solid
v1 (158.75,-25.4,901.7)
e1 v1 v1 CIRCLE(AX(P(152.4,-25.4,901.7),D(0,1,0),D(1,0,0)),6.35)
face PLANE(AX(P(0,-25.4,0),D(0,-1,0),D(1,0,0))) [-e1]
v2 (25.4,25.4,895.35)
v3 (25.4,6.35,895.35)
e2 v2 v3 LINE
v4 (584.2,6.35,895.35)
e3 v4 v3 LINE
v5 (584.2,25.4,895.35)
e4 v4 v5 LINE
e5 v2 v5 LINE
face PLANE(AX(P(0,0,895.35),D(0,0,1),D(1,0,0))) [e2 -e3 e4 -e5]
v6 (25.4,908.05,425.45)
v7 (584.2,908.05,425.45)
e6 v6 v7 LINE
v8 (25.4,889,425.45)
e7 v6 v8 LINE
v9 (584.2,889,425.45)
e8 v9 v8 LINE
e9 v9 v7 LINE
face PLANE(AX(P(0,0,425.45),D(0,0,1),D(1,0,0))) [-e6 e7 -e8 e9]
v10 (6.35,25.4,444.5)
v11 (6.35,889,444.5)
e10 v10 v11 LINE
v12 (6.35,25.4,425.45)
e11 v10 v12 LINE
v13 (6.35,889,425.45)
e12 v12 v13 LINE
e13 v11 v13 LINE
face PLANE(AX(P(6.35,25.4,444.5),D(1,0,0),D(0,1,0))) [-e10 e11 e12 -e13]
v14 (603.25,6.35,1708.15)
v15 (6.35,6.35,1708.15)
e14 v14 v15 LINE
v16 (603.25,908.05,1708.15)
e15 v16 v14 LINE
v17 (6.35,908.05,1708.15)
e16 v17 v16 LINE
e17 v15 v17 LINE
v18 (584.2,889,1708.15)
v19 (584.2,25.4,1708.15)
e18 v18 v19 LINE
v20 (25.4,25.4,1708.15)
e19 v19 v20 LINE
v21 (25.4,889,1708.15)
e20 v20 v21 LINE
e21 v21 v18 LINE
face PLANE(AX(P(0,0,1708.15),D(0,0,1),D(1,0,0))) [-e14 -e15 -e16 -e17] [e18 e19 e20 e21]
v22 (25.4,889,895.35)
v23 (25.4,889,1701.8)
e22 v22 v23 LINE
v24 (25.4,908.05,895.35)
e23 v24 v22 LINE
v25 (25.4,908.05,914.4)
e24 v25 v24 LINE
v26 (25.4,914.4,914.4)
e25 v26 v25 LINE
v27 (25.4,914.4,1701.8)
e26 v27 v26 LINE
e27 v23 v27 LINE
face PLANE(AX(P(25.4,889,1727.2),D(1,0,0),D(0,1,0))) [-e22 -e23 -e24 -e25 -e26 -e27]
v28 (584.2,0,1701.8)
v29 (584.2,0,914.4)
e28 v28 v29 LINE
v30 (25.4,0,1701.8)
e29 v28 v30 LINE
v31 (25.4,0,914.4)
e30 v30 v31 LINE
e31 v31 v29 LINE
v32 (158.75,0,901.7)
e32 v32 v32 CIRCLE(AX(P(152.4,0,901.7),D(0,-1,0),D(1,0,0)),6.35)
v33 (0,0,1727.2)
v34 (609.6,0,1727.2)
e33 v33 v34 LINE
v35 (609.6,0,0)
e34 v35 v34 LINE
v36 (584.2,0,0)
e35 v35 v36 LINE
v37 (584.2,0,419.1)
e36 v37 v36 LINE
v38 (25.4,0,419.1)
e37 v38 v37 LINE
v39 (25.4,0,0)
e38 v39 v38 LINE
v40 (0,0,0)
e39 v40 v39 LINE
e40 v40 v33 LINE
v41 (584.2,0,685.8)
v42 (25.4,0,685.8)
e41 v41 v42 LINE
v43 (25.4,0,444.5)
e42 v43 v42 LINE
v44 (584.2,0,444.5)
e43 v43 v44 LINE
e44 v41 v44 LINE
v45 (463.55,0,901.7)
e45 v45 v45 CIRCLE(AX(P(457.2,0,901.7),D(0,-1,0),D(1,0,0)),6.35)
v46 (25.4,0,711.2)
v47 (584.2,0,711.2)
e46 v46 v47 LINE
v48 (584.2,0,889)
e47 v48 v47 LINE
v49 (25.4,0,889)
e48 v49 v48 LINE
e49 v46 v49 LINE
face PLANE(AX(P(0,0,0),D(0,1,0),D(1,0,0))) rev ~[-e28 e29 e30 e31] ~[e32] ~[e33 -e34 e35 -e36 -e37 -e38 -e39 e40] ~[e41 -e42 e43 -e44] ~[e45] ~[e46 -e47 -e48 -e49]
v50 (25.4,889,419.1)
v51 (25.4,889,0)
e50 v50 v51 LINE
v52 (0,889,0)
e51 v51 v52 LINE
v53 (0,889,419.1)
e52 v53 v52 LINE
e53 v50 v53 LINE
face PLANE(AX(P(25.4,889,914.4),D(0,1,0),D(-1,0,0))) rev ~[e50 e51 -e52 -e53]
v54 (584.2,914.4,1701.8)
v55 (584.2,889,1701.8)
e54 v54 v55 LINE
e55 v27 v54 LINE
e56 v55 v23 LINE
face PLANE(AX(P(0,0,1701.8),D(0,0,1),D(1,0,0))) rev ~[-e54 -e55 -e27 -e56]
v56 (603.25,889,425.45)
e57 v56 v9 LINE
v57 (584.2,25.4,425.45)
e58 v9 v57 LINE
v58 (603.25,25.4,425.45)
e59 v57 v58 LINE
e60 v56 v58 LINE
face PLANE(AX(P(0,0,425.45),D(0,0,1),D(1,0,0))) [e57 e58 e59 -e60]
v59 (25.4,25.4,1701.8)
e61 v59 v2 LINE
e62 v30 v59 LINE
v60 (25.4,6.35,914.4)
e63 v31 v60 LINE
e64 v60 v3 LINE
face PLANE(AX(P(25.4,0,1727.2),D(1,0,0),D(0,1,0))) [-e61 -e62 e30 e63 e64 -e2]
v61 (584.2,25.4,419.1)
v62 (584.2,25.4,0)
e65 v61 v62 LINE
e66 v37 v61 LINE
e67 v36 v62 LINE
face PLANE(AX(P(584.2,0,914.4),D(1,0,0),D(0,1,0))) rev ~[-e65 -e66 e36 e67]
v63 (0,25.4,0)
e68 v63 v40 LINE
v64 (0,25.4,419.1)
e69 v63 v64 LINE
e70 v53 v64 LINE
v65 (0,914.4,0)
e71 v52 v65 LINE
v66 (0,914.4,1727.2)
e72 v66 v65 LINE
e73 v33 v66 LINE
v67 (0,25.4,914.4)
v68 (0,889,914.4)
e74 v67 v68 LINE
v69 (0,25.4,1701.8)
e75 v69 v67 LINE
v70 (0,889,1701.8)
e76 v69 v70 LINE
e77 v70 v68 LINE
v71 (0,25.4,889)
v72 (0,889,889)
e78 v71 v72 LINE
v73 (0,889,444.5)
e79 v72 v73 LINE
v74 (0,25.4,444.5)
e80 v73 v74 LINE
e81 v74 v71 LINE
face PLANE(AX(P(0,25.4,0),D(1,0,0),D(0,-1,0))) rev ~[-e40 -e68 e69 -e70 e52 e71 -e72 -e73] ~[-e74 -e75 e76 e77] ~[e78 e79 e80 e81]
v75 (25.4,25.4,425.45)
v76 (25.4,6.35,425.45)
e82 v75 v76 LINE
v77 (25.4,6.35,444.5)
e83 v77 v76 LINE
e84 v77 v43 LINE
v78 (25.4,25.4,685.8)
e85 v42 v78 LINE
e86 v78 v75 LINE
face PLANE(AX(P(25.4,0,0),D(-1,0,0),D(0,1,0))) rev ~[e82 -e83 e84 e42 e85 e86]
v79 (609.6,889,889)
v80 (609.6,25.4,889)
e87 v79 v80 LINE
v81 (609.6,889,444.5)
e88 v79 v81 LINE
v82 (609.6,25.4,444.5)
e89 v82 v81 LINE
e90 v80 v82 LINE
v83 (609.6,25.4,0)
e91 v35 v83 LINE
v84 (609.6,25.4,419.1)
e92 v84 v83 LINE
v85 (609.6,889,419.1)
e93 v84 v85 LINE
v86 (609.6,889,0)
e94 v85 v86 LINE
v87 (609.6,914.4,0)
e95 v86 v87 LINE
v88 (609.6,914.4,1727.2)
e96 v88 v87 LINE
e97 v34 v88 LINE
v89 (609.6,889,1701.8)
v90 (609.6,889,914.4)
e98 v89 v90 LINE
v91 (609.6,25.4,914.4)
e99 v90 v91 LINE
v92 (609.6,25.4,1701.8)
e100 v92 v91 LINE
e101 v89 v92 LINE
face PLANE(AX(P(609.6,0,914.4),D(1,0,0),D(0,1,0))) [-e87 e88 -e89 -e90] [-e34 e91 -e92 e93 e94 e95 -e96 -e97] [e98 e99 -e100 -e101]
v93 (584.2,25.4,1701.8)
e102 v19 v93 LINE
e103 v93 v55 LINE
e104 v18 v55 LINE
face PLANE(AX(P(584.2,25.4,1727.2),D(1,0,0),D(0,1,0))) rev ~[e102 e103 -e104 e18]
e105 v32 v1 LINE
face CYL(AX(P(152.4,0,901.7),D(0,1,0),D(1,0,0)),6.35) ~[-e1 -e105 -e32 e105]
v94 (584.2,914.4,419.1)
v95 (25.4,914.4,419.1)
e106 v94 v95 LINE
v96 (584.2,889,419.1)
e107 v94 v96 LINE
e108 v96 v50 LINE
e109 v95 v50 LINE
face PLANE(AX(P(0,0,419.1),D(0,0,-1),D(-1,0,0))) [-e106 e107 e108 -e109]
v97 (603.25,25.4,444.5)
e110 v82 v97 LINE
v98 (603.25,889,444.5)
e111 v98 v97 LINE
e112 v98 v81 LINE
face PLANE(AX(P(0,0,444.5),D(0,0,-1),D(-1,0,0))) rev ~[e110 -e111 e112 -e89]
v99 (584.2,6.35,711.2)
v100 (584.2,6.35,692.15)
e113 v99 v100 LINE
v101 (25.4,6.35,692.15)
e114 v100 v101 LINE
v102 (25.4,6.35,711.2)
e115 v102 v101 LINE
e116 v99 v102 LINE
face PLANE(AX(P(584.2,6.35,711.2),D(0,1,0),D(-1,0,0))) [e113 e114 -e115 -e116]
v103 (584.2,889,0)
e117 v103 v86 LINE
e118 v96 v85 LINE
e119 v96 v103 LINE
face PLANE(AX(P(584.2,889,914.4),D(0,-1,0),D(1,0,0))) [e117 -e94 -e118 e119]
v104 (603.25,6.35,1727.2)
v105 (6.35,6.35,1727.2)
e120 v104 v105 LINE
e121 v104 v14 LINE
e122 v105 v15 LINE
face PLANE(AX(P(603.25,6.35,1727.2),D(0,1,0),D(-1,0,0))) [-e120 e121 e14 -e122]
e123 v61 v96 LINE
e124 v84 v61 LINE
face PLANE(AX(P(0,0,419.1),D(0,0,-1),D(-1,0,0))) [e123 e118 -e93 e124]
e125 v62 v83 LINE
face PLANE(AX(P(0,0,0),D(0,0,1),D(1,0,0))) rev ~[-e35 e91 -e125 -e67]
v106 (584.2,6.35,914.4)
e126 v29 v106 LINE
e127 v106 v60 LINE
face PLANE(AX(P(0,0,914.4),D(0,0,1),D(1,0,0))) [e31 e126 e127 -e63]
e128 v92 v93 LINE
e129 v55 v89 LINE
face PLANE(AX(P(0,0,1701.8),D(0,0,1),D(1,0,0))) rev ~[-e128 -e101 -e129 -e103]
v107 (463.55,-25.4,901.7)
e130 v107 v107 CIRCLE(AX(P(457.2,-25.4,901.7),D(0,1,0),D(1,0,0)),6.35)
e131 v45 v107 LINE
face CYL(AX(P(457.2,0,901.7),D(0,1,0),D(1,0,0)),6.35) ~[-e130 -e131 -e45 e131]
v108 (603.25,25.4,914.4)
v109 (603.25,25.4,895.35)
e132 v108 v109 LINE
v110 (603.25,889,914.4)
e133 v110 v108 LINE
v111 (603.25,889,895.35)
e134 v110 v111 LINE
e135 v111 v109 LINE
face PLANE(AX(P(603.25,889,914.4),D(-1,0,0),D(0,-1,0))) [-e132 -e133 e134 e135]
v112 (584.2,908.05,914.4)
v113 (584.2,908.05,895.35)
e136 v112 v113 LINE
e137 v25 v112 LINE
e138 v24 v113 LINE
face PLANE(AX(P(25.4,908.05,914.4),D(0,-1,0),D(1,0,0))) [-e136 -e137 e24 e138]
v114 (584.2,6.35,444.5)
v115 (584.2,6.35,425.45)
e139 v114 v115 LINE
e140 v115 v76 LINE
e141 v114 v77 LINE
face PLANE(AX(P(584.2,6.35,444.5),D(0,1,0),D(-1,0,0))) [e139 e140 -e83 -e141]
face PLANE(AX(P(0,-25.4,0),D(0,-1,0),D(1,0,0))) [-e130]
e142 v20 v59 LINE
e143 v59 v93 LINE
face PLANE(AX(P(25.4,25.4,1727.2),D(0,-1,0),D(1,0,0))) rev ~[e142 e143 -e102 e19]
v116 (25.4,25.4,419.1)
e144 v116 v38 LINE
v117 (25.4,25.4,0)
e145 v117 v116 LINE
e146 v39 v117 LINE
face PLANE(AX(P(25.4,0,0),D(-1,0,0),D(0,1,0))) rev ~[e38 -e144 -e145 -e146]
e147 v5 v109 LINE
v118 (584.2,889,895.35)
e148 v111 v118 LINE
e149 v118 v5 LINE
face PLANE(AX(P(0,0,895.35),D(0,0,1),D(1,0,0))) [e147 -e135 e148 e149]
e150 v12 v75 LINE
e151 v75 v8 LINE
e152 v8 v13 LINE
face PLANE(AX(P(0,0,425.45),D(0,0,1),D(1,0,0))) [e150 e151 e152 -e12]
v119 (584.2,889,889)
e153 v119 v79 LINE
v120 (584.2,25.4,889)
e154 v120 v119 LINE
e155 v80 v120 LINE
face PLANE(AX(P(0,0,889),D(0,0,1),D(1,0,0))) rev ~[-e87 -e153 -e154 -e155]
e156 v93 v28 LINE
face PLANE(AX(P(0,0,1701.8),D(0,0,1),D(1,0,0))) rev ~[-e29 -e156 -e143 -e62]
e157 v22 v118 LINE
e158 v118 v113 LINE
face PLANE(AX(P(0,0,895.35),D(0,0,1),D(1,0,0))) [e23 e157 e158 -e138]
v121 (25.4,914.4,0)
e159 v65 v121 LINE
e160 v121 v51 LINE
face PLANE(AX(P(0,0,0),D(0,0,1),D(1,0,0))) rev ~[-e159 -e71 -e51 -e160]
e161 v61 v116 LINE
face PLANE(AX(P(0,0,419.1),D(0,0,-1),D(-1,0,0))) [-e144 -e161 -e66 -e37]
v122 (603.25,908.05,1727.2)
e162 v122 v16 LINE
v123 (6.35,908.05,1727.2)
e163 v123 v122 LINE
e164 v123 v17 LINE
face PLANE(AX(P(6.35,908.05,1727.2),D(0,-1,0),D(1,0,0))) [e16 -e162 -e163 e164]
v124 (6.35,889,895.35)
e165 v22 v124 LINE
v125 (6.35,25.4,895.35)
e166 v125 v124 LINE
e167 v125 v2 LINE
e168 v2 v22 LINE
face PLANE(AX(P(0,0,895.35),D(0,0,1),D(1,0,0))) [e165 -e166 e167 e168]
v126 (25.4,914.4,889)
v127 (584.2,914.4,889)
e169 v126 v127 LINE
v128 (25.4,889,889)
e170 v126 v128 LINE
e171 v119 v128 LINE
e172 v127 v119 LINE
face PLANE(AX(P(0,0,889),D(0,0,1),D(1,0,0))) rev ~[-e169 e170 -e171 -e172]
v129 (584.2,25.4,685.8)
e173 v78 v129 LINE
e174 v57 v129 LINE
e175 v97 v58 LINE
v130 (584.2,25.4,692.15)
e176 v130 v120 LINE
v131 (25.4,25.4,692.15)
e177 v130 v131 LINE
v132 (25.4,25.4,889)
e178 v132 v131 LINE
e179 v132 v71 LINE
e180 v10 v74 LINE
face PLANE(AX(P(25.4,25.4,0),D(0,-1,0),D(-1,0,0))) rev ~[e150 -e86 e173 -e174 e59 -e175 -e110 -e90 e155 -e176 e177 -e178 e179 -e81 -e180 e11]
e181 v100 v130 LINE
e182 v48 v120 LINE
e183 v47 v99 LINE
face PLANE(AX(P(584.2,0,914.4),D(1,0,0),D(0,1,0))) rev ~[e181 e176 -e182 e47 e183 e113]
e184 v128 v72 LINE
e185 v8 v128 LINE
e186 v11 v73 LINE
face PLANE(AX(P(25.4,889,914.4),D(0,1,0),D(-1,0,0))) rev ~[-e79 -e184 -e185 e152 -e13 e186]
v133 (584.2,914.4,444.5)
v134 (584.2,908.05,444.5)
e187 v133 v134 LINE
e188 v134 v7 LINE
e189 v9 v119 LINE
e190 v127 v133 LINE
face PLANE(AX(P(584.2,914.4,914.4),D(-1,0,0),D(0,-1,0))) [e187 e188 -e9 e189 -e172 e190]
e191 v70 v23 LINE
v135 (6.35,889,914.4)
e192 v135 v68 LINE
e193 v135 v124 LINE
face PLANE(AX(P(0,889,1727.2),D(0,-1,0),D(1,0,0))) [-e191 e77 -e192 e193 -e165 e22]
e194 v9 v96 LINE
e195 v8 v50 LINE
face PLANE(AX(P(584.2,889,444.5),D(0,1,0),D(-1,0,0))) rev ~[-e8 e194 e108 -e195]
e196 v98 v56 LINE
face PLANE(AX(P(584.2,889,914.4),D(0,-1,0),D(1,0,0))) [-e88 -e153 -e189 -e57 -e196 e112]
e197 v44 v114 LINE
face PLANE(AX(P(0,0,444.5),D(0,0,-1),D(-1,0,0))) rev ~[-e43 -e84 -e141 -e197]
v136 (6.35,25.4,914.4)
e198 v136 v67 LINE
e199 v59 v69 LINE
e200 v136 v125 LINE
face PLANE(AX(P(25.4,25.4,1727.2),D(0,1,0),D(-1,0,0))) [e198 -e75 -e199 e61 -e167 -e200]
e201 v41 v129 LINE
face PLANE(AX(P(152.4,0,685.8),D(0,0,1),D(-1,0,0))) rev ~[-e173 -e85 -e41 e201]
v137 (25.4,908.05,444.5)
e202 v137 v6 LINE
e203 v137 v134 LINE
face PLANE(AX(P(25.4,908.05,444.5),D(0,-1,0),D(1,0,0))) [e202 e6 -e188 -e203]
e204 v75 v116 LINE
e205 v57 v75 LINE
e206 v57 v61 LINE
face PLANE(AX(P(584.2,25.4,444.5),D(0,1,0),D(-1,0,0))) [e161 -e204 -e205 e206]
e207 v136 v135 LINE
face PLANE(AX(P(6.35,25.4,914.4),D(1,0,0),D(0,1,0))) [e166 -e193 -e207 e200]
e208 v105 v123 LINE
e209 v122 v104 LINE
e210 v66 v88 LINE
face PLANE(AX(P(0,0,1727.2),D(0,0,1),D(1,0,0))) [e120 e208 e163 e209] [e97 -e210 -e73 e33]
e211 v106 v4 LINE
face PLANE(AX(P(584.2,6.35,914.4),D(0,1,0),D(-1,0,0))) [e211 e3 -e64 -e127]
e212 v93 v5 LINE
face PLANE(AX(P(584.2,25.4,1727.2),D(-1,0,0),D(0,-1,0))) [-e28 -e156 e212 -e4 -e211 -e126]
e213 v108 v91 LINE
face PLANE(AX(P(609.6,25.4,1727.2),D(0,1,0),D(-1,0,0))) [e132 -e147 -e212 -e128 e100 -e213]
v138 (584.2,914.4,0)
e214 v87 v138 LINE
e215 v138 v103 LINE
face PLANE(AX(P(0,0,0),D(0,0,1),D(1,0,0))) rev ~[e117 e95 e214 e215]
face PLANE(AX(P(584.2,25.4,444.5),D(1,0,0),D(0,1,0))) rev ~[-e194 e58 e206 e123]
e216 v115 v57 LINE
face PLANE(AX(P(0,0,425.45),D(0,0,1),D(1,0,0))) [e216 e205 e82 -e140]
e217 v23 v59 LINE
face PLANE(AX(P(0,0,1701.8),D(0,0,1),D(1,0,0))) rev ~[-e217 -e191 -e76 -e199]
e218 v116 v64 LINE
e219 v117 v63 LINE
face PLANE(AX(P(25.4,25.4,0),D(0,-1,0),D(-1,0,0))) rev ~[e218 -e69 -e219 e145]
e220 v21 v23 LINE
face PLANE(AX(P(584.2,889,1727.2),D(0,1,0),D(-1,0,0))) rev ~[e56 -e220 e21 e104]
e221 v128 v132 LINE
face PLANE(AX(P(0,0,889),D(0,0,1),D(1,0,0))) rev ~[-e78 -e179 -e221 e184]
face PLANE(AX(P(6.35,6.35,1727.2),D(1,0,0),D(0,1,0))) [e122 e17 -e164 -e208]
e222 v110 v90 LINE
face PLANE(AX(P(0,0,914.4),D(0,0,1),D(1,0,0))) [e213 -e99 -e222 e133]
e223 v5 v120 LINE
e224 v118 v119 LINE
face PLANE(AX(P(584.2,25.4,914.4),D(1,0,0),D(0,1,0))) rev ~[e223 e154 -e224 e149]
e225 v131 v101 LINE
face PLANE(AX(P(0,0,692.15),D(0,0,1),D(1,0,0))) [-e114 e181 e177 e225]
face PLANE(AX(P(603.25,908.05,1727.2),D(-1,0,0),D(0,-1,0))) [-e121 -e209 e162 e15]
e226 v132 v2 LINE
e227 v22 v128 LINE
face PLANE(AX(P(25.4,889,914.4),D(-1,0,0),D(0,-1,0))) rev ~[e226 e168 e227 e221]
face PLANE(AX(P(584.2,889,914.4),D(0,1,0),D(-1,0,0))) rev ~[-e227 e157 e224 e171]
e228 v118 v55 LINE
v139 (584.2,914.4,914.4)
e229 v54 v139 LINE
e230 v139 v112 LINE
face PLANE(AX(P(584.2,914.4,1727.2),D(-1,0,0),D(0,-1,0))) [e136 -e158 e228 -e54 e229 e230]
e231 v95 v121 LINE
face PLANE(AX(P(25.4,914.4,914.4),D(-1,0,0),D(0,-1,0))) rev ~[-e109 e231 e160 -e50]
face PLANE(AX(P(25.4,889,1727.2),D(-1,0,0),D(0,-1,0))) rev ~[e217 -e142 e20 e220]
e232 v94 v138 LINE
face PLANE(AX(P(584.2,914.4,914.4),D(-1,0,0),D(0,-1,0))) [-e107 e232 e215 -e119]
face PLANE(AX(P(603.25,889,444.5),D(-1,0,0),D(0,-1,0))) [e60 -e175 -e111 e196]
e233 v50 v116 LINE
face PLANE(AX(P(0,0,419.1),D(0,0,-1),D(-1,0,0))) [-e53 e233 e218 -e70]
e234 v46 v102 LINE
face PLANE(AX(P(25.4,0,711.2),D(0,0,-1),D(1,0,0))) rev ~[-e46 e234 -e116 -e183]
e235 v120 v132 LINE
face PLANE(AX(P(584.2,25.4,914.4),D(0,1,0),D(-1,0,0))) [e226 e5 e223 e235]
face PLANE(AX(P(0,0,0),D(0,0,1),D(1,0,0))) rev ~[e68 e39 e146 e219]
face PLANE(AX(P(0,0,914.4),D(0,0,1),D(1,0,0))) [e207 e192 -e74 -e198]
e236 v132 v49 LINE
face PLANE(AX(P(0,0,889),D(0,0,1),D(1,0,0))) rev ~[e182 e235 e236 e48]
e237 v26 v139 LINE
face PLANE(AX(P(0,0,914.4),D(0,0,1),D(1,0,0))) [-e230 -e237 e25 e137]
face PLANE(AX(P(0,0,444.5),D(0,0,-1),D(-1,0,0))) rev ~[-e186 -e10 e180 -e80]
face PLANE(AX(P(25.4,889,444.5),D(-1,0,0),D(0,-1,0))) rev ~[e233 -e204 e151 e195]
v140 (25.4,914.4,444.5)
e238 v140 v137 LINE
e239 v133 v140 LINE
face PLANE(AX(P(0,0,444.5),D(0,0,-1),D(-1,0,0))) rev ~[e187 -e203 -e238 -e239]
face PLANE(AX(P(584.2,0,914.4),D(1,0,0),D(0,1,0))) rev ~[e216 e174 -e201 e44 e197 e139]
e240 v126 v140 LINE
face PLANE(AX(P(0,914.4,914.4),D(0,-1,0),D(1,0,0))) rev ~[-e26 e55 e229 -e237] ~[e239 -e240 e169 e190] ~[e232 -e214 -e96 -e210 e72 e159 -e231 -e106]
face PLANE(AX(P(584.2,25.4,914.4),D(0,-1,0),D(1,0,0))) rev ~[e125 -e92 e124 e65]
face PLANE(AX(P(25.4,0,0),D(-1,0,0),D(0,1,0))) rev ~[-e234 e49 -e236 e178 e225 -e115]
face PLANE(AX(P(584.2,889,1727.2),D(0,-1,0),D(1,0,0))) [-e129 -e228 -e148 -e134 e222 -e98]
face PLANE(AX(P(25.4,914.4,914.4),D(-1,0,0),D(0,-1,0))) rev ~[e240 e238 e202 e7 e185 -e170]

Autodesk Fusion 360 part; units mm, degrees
sketch "Sketch1" plane through (0, 0, 0) normal (0, 0, 1) x (1, 0, 0)
  line L0 (0, 0) -> (25.4, 0)
  line L1 (25.4, 0) -> (25.4, 25.4)
  line L2 (25.4, 25.4) -> (0, 25.4)
  line L3 (0, 25.4) -> (0, 0)
  dimension "d1" = 25.4
  dimension "d2" = 25.4
extrude "Extrude1" add sketch "Sketch1" along normal blind 914.4 makes body 1
sketch "Sketch2" plane through (0, 0, 914.4) normal (0, 0, 1) x (1, 0, 0)
  line L0 (0, 25.4) -> (0, 0)
  line L1 (0, 0) -> (25.4, 0)
  line L2 (25.4, 0) -> (25.4, 25.4)
  line L3 (25.4, 25.4) -> (0, 25.4)
  line L4 (0, 0) -> (609.6, 0)
  line L5 (609.6, 0) -> (609.6, 914.4)
  line L6 (609.6, 914.4) -> (0, 914.4)
  line L7 (0, 914.4) -> (0, 0)
  dimension "d5" = 609.6
  dimension "d6" = 914.4
sketch "Sketch3" plane through (0, 0, 914.4) normal (0, 0, 1) x (1, 0, 0)
  line L0 (0, 914.4) -> (25.4, 914.4)
  line L1 (25.4, 914.4) -> (25.4, 889)
  line L2 (25.4, 889) -> (0, 889)
  line L3 (0, 889) -> (0, 914.4)
  line L4 (609.6, 914.4) -> (0, 914.4)
  line L5 (0, 914.4) -> (0, 0)
  line L6 (609.6, 914.4) -> (584.2, 914.4)
  line L7 (584.2, 914.4) -> (584.2, 889)
  line L8 (584.2, 889) -> (609.6, 889)
  line L9 (609.6, 889) -> (609.6, 914.4)
  line L10 (609.6, 0) -> (609.6, 914.4)
  line L11 (609.6, 0) -> (584.2, 0)
  line L12 (584.2, 0) -> (584.2, 25.4)
  line L13 (584.2, 25.4) -> (609.6, 25.4)
  line L14 (609.6, 25.4) -> (609.6, 0)
  line L15 (0, 0) -> (609.6, 0)
  dimension "d7" = 25.4
  dimension "d8" = 25.4
  dimension "d9" = 25.4
  dimension "d10" = 25.4
  dimension "d11" = 25.4
  dimension "d12" = 25.4
extrude "Extrude2" add sketch "Sketch3" against normal blind 914.4 separate body contours L0 L1 L2 L3 L4 L5 | L4 L6 L7 L8 L9 L10 | L10 L11 L12 L13 L14 L15 makes body 2 at (25.4, 905.9333, 304.8) makes body 3 at (609.6, 897.4667, 304.8) makes body 4 at (584.2, 8.4667, 304.8)
sketch "Sketch4" plane through (0, 0, 914.4) normal (0, 0, 1) x (1, 0, 0)
  line L0 (584.2, 889) -> (609.6, 889)
  line L1 (609.6, 889) -> (609.6, 25.4)
  line L2 (609.6, 25.4) -> (584.2, 25.4)
  line L3 (584.2, 25.4) -> (584.2, 889)
  line L4 (0, 914.4) -> (584.2, 914.4)
  line L5 (584.2, 914.4) -> (584.2, 889)
  line L6 (584.2, 889) -> (0, 889)
  line L7 (0, 889) -> (0, 914.4)
  line L8 (0, 914.4) -> (25.4, 914.4)
  line L9 (25.4, 914.4) -> (25.4, 0)
  line L10 (25.4, 0) -> (0, 0)
  line L11 (0, 0) -> (0, 914.4)
  line L12 (0, 0) -> (584.2, 0)
  line L13 (584.2, 0) -> (584.2, 25.4)
  line L14 (584.2, 25.4) -> (0, 25.4)
  line L15 (0, 25.4) -> (0, 0)
  line L16 (0, 0) -> (609.6, 0)
  line L17 (0, 914.4) -> (0, 0)
  line L18 (609.6, 914.4) -> (0, 914.4)
  line L19 (609.6, 0) -> (609.6, 914.4)
  line L20 (609.6, 889) -> (609.6, 914.4)
  line L21 (609.6, 914.4) -> (584.2, 914.4)
  dimension "d15" = 25.4
  dimension "d16" = 25.4
  dimension "d17" = 25.4
  dimension "d18" = 25.4
extrude "Extrude3" add sketch "Sketch4" against normal blind 25.4 separate body contours L0 L1 L2 L3 L19 | L4 L5 L6 L9 L18 | L9 L12 L13 L14 L16 | L6 L9 L11 L14 L17 makes body 5 at (397.9333, 897.4667, 914.4)
ref_plane "WorkPlane1" through (596.9, 901.7, 444.5) normal (0, 0, -1) x (-1, 0, 0)
sketch "Sketch5" plane through (0, 0, 444.5) normal (0, 0, -1) x (-1, 0, 0)
  line L0 (-609.6, 1066.8) -> (0, 1066.8)
  line L1 (0, 1066.8) -> (0, 0)
  line L2 (0, 0) -> (-609.6, 0)
  line L3 (-609.6, 0) -> (-609.6, 1066.8)
  line L4 (-584.2, 889) -> (-25.4, 889)
  line L5 (-584.2, 914.4) -> (-584.2, 889)
  line L6 (-584.2, 914.4) -> (-25.4, 914.4)
  line L7 (-25.4, 914.4) -> (-25.4, 889)
  line L8 (-25.4, 889) -> (0, 889)
  line L9 (0, 889) -> (0, 25.4)
  line L10 (-25.4, 25.4) -> (0, 25.4)
  line L11 (-25.4, 889) -> (-25.4, 25.4)
  line L12 (-584.2, 889) -> (-609.6, 889)
  line L13 (-584.2, 25.4) -> (-584.2, 889)
  line L14 (-609.6, 25.4) -> (-584.2, 25.4)
  line L15 (-609.6, 25.4) -> (-609.6, 889)
  line L16 (-25.4, 0) -> (-584.2, 0)
  line L17 (-584.2, 0) -> (-584.2, 25.4)
  line L18 (-584.2, 25.4) -> (-25.4, 25.4)
  line L19 (-25.4, 25.4) -> (-25.4, 0)
  dimension "d22" = 609.6
  dimension "d23" = 1066.8
extrude "Extrude4" add sketch "Sketch5" along normal blind 25.4 separate body contours L3 L12 L13 L14 L15 | L1 L8 L9 L10 L11 | L4 L5 L6 L7 | L2 L16 L17 L18 L19 makes body 6 at (397.9333, 25.4, 436.0333)
ref_plane "WorkPlane2" through (304.8, 901.7, 1727.2) normal (0, 0, 1) x (1, 0, 0)
sketch "Sketch6" plane through (0, 0, 1727.2) normal (0, 0, 1) x (1, 0, 0)
  line L0 (584.2, 889) -> (25.4, 889)
  line L1 (584.2, 914.4) -> (584.2, 889)
  line L2 (25.4, 914.4) -> (584.2, 914.4)
  line L3 (25.4, 889) -> (25.4, 914.4)
  line L4 (0, 889) -> (25.4, 889)
  line L5 (0, 25.4) -> (0, 889)
  line L6 (25.4, 25.4) -> (0, 25.4)
  line L7 (25.4, 889) -> (25.4, 25.4)
  line L8 (584.2, 889) -> (609.6, 889)
  line L9 (584.2, 25.4) -> (584.2, 889)
  line L10 (609.6, 25.4) -> (584.2, 25.4)
  line L11 (609.6, 889) -> (609.6, 25.4)
  line L12 (584.2, 0) -> (25.4, 0)
  line L13 (584.2, 25.4) -> (584.2, 0)
  line L14 (25.4, 25.4) -> (584.2, 25.4)
  line L15 (25.4, 0) -> (25.4, 25.4)
  line L16 (25.4, 25.4) -> (0, 25.4)
  line L17 (25.4, 0) -> (25.4, 25.4)
  line L18 (0, 0) -> (25.4, 0)
  line L19 (0, 25.4) -> (0, 0)
  line L20 (609.6, 25.4) -> (609.6, 0)
  line L21 (584.2, 25.4) -> (609.6, 25.4)
  line L22 (584.2, 0) -> (584.2, 25.4)
  line L23 (609.6, 0) -> (584.2, 0)
  line L24 (609.6, 914.4) -> (609.6, 889)
  line L25 (584.2, 914.4) -> (609.6, 914.4)
  line L26 (584.2, 889) -> (584.2, 914.4)
  line L27 (609.6, 889) -> (584.2, 889)
  line L28 (0, 889) -> (0, 914.4)
  line L29 (25.4, 889) -> (0, 889)
  line L30 (25.4, 914.4) -> (25.4, 889)
  line L31 (0, 914.4) -> (25.4, 914.4)
extrude "Extrude5" add sketch "Sketch6" against normal blind 812.8 contours L1 L8 L24 L25 L26 L27 | L3 L4 L28 L29 L30 L31 | L10 L13 L20 L21 L22 L23 | L6 L15 L16 L17 L18 L19 bodies 1 6 2 3 4 5
extrude "Extrude6" add sketch "Sketch6" against normal blind 25.4 contours L0 L1 L2 L3 L26 L30 | L8 L9 L10 L11 L21 L27 | L4 L5 L6 L7 L16 L29 | L12 L13 L14 L15 L17 L22 bodies 1
combine "Combine1" operation add target body 1 tool bodies 6
sketch "Sketch7" plane through (0, 0, 0) normal (0, -1, 0) x (1, 0, 0)
  line L0 (25.4, 444.5) -> (25.4, 889)
  line L1 (25.4, 889) -> (584.2, 889)
  line L2 (584.2, 889) -> (584.2, 444.5)
  line L3 (584.2, 444.5) -> (25.4, 444.5)
  line L4 (25.4, 419.1) -> (584.2, 419.1)
  line L5 (584.2, 419.1) -> (584.2, 0)
  line L6 (584.2, 0) -> (609.6, 0)
  line L7 (609.6, 0) -> (609.6, 1727.2)
  line L8 (609.6, 1727.2) -> (584.2, 1727.2)
  line L9 (584.2, 1727.2) -> (0, 1727.2)
  line L10 (0, 1727.2) -> (0, 0)
  line L11 (0, 0) -> (25.4, 0)
  line L12 (25.4, 0) -> (25.4, 419.1)
  line L13 (25.4, 1701.8) -> (584.2, 1701.8)
  line L14 (584.2, 1701.8) -> (584.2, 914.4)
  line L15 (584.2, 914.4) -> (25.4, 914.4)
  line L16 (25.4, 914.4) -> (25.4, 1701.8)
  circle A0 centre (457.2, 901.7) radius 6.35
  circle A1 centre (152.4, 901.7) radius 6.35
  line L17 (152.4, 901.7) -> (457.2, 901.7)
  line L18 (152.4, 901.7) -> (152.4, 685.8)
  line L19 (25.4, 711.2) -> (584.2, 711.2)
  line L20 (584.2, 711.2) -> (584.2, 685.8)
  line L21 (584.2, 685.8) -> (25.4, 685.8)
  line L22 (25.4, 685.8) -> (25.4, 711.2)
  dimension "d31" = 12.7
  dimension "d33" = 12.7
  dimension "d34" = 304.8
  dimension "d35" = 152.4
  dimension "d36" = 12.7
  dimension "d37" = 215.9
  dimension "d38" = 25.4
extrude "Extrude7" add sketch "Sketch7" against normal blind 25.4 contours L0 L18 L19 L21 L22 | L2 L18 L19 L20 L21 bodies 1
extrude "Extrude8" add sketch "Sketch7" along normal blind 25.4 contours A0 | A1 L17 L18 | A1 L17 L18 bodies 1
sketch "Sketch8" plane through (0, 0, 1727.2) normal (0, 0, 1) x (1, 0, 0)
  line L0 (0, 914.4) -> (0, 0)
  line L1 (0, 0) -> (584.2, 0)
  line L2 (584.2, 0) -> (609.6, 0)
  line L3 (609.6, 0) -> (609.6, 25.4)
  line L4 (609.6, 25.4) -> (609.6, 889)
  line L5 (609.6, 889) -> (609.6, 914.4)
  line L6 (609.6, 914.4) -> (0, 914.4)
  line L7 (25.4, 25.4) -> (25.4, 889)
  line L8 (25.4, 889) -> (584.2, 889)
  line L9 (584.2, 889) -> (584.2, 25.4)
  line L10 (584.2, 25.4) -> (25.4, 25.4)
  line L11 (6.35, 908.05) -> (603.25, 908.05)
  line L12 (603.25, 908.05) -> (603.25, 6.35)
  line L13 (603.25, 6.35) -> (6.35, 6.35)
  line L14 (6.35, 6.35) -> (6.35, 908.05)
  dimension "d43" = 6.35
  dimension "d44" = 6.35
  dimension "d45" = 6.35
  dimension "d46" = 6.35
extrude "Extrude9" cut sketch "Sketch8" against normal blind 19.05 contours L11 L12 L13 L14 bodies 1
sketch "Sketch9" plane through (0, 0, 914.4) normal (0, 0, 1) x (1, 0, 0)
  line L0 (25.4, 889) -> (0, 889)
  line L1 (0, 889) -> (0, 25.4)
  line L2 (0, 25.4) -> (25.4, 25.4)
  line L3 (25.4, 25.4) -> (25.4, 889)
  line L4 (6.35, 908.05) -> (603.25, 908.05)
  line L5 (603.25, 908.05) -> (603.25, 6.35)
  line L6 (603.25, 6.35) -> (6.35, 6.35)
  line L7 (6.35, 6.35) -> (6.35, 908.05)
  line L8 (25.4, 914.4) -> (25.4, 889)
  line L9 (25.4, 889) -> (584.2, 889)
  line L10 (584.2, 889) -> (584.2, 914.4)
  line L11 (584.2, 914.4) -> (25.4, 914.4)
  line L12 (584.2, 25.4) -> (609.6, 25.4)
  line L13 (609.6, 25.4) -> (609.6, 889)
  line L14 (609.6, 889) -> (584.2, 889)
  line L15 (584.2, 889) -> (584.2, 25.4)
  line L16 (584.2, 0) -> (584.2, 25.4)
  line L17 (584.2, 25.4) -> (25.4, 25.4)
  line L18 (25.4, 25.4) -> (25.4, 0)
  line L19 (25.4, 0) -> (584.2, 0)
  dimension "d49" = 6.35
  dimension "d50" = 6.35
  dimension "d51" = 6.35
  dimension "d52" = 6.35
extrude "Extrude10" cut sketch "Sketch9" against normal blind 19.05 contours L0 L2 L3 L7 | L3 L9 L15 L17 | L4 L8 L9 L10 | L6 L16 L17 L18 | L5 L12 L14 L15 bodies 1
sketch "Sketch10" plane through (0, 0, 711.2) normal (0, 0, 1) x (1, 0, 0)
  line L0 (25.4, 0) -> (584.2, 0)
  line L1 (584.2, 0) -> (584.2, 25.4)
  line L2 (584.2, 25.4) -> (25.4, 25.4)
  line L3 (25.4, 25.4) -> (25.4, 0)
  line L4 (15.2621, 59.1079) -> (599.5555, 59.1079)
  line L5 (599.5555, 59.1079) -> (599.5555, 6.35)
  line L6 (599.5555, 6.35) -> (15.2621, 6.35)
  line L7 (15.2621, 6.35) -> (15.2621, 59.1079)
  dimension "d55" = 6.35
extrude "Extrude11" cut sketch "Sketch10" against normal blind 19.05 contours L1 L2 L3 L6 bodies 1
sketch "Sketch11" plane through (0, 0, 444.5) normal (0, 0, 1) x (1, 0, 0)
  line L0 (584.2, 25.4) -> (25.4, 25.4)
  line L1 (25.4, 25.4) -> (25.4, 0)
  line L2 (25.4, 0) -> (584.2, 0)
  line L3 (584.2, 0) -> (584.2, 25.4)
  line L4 (25.4, 889) -> (0, 889)
  line L5 (0, 889) -> (0, 25.4)
  line L6 (0, 25.4) -> (25.4, 25.4)
  line L7 (25.4, 25.4) -> (25.4, 889)
  line L8 (584.2, 914.4) -> (25.4, 914.4)
  line L9 (584.2, 889) -> (25.4, 889)
  line L10 (609.6, 25.4) -> (609.6, 889)
  line L11 (584.2, 889) -> (584.2, 25.4)
  line L12 (584.2, 25.4) -> (609.6, 25.4)
  line L13 (609.6, 25.4) -> (609.6, 889)
  line L14 (609.6, 889) -> (584.2, 889)
  line L15 (584.2, 889) -> (584.2, 914.4)
  line L16 (584.2, 914.4) -> (25.4, 914.4)
  line L17 (25.4, 914.4) -> (25.4, 889)
  line L18 (25.4, 889) -> (584.2, 889)
  line L19 (6.35, 908.05) -> (603.25, 908.05)
  line L20 (603.25, 908.05) -> (603.25, 6.35)
  line L21 (603.25, 6.35) -> (6.35, 6.35)
  line L22 (6.35, 6.35) -> (6.35, 908.05)
  dimension "d58" = 6.35
  dimension "d59" = 6.35
  dimension "d60" = 6.35
  dimension "d61" = 6.35
extrude "Extrude12" cut sketch "Sketch11" against normal blind 19.05 contours L0 L1 L3 L21 | L11 L12 L14 L20 | L4 L6 L7 L22 | L9 L15 L17 L18 L19 bodies 1
equation "d21 = ( -35 / 2 ) * 1 in"
equation "d34 = 12.5 in - 0.25 in - 0.25 in"
equation "d43 = ( 1 / 4 ) * 1 in"
equation "d44 = d43"
equation "d45 = d44"
equation "d46 = d44"
equation "d47 = -1 in + d44"
equation "d49 = d44"
equation "d50 = d44"
equation "d51 = d44"
equation "d52 = d44"
equation "d53 = -1 in + d44"
equation "d55 = d44"
equation "d56 = -1 in + d44"
equation "d58 = d44"
equation "d59 = d44"
equation "d60 = d44"
equation "d61 = d44"
equation "d62 = -1 in + d44"
